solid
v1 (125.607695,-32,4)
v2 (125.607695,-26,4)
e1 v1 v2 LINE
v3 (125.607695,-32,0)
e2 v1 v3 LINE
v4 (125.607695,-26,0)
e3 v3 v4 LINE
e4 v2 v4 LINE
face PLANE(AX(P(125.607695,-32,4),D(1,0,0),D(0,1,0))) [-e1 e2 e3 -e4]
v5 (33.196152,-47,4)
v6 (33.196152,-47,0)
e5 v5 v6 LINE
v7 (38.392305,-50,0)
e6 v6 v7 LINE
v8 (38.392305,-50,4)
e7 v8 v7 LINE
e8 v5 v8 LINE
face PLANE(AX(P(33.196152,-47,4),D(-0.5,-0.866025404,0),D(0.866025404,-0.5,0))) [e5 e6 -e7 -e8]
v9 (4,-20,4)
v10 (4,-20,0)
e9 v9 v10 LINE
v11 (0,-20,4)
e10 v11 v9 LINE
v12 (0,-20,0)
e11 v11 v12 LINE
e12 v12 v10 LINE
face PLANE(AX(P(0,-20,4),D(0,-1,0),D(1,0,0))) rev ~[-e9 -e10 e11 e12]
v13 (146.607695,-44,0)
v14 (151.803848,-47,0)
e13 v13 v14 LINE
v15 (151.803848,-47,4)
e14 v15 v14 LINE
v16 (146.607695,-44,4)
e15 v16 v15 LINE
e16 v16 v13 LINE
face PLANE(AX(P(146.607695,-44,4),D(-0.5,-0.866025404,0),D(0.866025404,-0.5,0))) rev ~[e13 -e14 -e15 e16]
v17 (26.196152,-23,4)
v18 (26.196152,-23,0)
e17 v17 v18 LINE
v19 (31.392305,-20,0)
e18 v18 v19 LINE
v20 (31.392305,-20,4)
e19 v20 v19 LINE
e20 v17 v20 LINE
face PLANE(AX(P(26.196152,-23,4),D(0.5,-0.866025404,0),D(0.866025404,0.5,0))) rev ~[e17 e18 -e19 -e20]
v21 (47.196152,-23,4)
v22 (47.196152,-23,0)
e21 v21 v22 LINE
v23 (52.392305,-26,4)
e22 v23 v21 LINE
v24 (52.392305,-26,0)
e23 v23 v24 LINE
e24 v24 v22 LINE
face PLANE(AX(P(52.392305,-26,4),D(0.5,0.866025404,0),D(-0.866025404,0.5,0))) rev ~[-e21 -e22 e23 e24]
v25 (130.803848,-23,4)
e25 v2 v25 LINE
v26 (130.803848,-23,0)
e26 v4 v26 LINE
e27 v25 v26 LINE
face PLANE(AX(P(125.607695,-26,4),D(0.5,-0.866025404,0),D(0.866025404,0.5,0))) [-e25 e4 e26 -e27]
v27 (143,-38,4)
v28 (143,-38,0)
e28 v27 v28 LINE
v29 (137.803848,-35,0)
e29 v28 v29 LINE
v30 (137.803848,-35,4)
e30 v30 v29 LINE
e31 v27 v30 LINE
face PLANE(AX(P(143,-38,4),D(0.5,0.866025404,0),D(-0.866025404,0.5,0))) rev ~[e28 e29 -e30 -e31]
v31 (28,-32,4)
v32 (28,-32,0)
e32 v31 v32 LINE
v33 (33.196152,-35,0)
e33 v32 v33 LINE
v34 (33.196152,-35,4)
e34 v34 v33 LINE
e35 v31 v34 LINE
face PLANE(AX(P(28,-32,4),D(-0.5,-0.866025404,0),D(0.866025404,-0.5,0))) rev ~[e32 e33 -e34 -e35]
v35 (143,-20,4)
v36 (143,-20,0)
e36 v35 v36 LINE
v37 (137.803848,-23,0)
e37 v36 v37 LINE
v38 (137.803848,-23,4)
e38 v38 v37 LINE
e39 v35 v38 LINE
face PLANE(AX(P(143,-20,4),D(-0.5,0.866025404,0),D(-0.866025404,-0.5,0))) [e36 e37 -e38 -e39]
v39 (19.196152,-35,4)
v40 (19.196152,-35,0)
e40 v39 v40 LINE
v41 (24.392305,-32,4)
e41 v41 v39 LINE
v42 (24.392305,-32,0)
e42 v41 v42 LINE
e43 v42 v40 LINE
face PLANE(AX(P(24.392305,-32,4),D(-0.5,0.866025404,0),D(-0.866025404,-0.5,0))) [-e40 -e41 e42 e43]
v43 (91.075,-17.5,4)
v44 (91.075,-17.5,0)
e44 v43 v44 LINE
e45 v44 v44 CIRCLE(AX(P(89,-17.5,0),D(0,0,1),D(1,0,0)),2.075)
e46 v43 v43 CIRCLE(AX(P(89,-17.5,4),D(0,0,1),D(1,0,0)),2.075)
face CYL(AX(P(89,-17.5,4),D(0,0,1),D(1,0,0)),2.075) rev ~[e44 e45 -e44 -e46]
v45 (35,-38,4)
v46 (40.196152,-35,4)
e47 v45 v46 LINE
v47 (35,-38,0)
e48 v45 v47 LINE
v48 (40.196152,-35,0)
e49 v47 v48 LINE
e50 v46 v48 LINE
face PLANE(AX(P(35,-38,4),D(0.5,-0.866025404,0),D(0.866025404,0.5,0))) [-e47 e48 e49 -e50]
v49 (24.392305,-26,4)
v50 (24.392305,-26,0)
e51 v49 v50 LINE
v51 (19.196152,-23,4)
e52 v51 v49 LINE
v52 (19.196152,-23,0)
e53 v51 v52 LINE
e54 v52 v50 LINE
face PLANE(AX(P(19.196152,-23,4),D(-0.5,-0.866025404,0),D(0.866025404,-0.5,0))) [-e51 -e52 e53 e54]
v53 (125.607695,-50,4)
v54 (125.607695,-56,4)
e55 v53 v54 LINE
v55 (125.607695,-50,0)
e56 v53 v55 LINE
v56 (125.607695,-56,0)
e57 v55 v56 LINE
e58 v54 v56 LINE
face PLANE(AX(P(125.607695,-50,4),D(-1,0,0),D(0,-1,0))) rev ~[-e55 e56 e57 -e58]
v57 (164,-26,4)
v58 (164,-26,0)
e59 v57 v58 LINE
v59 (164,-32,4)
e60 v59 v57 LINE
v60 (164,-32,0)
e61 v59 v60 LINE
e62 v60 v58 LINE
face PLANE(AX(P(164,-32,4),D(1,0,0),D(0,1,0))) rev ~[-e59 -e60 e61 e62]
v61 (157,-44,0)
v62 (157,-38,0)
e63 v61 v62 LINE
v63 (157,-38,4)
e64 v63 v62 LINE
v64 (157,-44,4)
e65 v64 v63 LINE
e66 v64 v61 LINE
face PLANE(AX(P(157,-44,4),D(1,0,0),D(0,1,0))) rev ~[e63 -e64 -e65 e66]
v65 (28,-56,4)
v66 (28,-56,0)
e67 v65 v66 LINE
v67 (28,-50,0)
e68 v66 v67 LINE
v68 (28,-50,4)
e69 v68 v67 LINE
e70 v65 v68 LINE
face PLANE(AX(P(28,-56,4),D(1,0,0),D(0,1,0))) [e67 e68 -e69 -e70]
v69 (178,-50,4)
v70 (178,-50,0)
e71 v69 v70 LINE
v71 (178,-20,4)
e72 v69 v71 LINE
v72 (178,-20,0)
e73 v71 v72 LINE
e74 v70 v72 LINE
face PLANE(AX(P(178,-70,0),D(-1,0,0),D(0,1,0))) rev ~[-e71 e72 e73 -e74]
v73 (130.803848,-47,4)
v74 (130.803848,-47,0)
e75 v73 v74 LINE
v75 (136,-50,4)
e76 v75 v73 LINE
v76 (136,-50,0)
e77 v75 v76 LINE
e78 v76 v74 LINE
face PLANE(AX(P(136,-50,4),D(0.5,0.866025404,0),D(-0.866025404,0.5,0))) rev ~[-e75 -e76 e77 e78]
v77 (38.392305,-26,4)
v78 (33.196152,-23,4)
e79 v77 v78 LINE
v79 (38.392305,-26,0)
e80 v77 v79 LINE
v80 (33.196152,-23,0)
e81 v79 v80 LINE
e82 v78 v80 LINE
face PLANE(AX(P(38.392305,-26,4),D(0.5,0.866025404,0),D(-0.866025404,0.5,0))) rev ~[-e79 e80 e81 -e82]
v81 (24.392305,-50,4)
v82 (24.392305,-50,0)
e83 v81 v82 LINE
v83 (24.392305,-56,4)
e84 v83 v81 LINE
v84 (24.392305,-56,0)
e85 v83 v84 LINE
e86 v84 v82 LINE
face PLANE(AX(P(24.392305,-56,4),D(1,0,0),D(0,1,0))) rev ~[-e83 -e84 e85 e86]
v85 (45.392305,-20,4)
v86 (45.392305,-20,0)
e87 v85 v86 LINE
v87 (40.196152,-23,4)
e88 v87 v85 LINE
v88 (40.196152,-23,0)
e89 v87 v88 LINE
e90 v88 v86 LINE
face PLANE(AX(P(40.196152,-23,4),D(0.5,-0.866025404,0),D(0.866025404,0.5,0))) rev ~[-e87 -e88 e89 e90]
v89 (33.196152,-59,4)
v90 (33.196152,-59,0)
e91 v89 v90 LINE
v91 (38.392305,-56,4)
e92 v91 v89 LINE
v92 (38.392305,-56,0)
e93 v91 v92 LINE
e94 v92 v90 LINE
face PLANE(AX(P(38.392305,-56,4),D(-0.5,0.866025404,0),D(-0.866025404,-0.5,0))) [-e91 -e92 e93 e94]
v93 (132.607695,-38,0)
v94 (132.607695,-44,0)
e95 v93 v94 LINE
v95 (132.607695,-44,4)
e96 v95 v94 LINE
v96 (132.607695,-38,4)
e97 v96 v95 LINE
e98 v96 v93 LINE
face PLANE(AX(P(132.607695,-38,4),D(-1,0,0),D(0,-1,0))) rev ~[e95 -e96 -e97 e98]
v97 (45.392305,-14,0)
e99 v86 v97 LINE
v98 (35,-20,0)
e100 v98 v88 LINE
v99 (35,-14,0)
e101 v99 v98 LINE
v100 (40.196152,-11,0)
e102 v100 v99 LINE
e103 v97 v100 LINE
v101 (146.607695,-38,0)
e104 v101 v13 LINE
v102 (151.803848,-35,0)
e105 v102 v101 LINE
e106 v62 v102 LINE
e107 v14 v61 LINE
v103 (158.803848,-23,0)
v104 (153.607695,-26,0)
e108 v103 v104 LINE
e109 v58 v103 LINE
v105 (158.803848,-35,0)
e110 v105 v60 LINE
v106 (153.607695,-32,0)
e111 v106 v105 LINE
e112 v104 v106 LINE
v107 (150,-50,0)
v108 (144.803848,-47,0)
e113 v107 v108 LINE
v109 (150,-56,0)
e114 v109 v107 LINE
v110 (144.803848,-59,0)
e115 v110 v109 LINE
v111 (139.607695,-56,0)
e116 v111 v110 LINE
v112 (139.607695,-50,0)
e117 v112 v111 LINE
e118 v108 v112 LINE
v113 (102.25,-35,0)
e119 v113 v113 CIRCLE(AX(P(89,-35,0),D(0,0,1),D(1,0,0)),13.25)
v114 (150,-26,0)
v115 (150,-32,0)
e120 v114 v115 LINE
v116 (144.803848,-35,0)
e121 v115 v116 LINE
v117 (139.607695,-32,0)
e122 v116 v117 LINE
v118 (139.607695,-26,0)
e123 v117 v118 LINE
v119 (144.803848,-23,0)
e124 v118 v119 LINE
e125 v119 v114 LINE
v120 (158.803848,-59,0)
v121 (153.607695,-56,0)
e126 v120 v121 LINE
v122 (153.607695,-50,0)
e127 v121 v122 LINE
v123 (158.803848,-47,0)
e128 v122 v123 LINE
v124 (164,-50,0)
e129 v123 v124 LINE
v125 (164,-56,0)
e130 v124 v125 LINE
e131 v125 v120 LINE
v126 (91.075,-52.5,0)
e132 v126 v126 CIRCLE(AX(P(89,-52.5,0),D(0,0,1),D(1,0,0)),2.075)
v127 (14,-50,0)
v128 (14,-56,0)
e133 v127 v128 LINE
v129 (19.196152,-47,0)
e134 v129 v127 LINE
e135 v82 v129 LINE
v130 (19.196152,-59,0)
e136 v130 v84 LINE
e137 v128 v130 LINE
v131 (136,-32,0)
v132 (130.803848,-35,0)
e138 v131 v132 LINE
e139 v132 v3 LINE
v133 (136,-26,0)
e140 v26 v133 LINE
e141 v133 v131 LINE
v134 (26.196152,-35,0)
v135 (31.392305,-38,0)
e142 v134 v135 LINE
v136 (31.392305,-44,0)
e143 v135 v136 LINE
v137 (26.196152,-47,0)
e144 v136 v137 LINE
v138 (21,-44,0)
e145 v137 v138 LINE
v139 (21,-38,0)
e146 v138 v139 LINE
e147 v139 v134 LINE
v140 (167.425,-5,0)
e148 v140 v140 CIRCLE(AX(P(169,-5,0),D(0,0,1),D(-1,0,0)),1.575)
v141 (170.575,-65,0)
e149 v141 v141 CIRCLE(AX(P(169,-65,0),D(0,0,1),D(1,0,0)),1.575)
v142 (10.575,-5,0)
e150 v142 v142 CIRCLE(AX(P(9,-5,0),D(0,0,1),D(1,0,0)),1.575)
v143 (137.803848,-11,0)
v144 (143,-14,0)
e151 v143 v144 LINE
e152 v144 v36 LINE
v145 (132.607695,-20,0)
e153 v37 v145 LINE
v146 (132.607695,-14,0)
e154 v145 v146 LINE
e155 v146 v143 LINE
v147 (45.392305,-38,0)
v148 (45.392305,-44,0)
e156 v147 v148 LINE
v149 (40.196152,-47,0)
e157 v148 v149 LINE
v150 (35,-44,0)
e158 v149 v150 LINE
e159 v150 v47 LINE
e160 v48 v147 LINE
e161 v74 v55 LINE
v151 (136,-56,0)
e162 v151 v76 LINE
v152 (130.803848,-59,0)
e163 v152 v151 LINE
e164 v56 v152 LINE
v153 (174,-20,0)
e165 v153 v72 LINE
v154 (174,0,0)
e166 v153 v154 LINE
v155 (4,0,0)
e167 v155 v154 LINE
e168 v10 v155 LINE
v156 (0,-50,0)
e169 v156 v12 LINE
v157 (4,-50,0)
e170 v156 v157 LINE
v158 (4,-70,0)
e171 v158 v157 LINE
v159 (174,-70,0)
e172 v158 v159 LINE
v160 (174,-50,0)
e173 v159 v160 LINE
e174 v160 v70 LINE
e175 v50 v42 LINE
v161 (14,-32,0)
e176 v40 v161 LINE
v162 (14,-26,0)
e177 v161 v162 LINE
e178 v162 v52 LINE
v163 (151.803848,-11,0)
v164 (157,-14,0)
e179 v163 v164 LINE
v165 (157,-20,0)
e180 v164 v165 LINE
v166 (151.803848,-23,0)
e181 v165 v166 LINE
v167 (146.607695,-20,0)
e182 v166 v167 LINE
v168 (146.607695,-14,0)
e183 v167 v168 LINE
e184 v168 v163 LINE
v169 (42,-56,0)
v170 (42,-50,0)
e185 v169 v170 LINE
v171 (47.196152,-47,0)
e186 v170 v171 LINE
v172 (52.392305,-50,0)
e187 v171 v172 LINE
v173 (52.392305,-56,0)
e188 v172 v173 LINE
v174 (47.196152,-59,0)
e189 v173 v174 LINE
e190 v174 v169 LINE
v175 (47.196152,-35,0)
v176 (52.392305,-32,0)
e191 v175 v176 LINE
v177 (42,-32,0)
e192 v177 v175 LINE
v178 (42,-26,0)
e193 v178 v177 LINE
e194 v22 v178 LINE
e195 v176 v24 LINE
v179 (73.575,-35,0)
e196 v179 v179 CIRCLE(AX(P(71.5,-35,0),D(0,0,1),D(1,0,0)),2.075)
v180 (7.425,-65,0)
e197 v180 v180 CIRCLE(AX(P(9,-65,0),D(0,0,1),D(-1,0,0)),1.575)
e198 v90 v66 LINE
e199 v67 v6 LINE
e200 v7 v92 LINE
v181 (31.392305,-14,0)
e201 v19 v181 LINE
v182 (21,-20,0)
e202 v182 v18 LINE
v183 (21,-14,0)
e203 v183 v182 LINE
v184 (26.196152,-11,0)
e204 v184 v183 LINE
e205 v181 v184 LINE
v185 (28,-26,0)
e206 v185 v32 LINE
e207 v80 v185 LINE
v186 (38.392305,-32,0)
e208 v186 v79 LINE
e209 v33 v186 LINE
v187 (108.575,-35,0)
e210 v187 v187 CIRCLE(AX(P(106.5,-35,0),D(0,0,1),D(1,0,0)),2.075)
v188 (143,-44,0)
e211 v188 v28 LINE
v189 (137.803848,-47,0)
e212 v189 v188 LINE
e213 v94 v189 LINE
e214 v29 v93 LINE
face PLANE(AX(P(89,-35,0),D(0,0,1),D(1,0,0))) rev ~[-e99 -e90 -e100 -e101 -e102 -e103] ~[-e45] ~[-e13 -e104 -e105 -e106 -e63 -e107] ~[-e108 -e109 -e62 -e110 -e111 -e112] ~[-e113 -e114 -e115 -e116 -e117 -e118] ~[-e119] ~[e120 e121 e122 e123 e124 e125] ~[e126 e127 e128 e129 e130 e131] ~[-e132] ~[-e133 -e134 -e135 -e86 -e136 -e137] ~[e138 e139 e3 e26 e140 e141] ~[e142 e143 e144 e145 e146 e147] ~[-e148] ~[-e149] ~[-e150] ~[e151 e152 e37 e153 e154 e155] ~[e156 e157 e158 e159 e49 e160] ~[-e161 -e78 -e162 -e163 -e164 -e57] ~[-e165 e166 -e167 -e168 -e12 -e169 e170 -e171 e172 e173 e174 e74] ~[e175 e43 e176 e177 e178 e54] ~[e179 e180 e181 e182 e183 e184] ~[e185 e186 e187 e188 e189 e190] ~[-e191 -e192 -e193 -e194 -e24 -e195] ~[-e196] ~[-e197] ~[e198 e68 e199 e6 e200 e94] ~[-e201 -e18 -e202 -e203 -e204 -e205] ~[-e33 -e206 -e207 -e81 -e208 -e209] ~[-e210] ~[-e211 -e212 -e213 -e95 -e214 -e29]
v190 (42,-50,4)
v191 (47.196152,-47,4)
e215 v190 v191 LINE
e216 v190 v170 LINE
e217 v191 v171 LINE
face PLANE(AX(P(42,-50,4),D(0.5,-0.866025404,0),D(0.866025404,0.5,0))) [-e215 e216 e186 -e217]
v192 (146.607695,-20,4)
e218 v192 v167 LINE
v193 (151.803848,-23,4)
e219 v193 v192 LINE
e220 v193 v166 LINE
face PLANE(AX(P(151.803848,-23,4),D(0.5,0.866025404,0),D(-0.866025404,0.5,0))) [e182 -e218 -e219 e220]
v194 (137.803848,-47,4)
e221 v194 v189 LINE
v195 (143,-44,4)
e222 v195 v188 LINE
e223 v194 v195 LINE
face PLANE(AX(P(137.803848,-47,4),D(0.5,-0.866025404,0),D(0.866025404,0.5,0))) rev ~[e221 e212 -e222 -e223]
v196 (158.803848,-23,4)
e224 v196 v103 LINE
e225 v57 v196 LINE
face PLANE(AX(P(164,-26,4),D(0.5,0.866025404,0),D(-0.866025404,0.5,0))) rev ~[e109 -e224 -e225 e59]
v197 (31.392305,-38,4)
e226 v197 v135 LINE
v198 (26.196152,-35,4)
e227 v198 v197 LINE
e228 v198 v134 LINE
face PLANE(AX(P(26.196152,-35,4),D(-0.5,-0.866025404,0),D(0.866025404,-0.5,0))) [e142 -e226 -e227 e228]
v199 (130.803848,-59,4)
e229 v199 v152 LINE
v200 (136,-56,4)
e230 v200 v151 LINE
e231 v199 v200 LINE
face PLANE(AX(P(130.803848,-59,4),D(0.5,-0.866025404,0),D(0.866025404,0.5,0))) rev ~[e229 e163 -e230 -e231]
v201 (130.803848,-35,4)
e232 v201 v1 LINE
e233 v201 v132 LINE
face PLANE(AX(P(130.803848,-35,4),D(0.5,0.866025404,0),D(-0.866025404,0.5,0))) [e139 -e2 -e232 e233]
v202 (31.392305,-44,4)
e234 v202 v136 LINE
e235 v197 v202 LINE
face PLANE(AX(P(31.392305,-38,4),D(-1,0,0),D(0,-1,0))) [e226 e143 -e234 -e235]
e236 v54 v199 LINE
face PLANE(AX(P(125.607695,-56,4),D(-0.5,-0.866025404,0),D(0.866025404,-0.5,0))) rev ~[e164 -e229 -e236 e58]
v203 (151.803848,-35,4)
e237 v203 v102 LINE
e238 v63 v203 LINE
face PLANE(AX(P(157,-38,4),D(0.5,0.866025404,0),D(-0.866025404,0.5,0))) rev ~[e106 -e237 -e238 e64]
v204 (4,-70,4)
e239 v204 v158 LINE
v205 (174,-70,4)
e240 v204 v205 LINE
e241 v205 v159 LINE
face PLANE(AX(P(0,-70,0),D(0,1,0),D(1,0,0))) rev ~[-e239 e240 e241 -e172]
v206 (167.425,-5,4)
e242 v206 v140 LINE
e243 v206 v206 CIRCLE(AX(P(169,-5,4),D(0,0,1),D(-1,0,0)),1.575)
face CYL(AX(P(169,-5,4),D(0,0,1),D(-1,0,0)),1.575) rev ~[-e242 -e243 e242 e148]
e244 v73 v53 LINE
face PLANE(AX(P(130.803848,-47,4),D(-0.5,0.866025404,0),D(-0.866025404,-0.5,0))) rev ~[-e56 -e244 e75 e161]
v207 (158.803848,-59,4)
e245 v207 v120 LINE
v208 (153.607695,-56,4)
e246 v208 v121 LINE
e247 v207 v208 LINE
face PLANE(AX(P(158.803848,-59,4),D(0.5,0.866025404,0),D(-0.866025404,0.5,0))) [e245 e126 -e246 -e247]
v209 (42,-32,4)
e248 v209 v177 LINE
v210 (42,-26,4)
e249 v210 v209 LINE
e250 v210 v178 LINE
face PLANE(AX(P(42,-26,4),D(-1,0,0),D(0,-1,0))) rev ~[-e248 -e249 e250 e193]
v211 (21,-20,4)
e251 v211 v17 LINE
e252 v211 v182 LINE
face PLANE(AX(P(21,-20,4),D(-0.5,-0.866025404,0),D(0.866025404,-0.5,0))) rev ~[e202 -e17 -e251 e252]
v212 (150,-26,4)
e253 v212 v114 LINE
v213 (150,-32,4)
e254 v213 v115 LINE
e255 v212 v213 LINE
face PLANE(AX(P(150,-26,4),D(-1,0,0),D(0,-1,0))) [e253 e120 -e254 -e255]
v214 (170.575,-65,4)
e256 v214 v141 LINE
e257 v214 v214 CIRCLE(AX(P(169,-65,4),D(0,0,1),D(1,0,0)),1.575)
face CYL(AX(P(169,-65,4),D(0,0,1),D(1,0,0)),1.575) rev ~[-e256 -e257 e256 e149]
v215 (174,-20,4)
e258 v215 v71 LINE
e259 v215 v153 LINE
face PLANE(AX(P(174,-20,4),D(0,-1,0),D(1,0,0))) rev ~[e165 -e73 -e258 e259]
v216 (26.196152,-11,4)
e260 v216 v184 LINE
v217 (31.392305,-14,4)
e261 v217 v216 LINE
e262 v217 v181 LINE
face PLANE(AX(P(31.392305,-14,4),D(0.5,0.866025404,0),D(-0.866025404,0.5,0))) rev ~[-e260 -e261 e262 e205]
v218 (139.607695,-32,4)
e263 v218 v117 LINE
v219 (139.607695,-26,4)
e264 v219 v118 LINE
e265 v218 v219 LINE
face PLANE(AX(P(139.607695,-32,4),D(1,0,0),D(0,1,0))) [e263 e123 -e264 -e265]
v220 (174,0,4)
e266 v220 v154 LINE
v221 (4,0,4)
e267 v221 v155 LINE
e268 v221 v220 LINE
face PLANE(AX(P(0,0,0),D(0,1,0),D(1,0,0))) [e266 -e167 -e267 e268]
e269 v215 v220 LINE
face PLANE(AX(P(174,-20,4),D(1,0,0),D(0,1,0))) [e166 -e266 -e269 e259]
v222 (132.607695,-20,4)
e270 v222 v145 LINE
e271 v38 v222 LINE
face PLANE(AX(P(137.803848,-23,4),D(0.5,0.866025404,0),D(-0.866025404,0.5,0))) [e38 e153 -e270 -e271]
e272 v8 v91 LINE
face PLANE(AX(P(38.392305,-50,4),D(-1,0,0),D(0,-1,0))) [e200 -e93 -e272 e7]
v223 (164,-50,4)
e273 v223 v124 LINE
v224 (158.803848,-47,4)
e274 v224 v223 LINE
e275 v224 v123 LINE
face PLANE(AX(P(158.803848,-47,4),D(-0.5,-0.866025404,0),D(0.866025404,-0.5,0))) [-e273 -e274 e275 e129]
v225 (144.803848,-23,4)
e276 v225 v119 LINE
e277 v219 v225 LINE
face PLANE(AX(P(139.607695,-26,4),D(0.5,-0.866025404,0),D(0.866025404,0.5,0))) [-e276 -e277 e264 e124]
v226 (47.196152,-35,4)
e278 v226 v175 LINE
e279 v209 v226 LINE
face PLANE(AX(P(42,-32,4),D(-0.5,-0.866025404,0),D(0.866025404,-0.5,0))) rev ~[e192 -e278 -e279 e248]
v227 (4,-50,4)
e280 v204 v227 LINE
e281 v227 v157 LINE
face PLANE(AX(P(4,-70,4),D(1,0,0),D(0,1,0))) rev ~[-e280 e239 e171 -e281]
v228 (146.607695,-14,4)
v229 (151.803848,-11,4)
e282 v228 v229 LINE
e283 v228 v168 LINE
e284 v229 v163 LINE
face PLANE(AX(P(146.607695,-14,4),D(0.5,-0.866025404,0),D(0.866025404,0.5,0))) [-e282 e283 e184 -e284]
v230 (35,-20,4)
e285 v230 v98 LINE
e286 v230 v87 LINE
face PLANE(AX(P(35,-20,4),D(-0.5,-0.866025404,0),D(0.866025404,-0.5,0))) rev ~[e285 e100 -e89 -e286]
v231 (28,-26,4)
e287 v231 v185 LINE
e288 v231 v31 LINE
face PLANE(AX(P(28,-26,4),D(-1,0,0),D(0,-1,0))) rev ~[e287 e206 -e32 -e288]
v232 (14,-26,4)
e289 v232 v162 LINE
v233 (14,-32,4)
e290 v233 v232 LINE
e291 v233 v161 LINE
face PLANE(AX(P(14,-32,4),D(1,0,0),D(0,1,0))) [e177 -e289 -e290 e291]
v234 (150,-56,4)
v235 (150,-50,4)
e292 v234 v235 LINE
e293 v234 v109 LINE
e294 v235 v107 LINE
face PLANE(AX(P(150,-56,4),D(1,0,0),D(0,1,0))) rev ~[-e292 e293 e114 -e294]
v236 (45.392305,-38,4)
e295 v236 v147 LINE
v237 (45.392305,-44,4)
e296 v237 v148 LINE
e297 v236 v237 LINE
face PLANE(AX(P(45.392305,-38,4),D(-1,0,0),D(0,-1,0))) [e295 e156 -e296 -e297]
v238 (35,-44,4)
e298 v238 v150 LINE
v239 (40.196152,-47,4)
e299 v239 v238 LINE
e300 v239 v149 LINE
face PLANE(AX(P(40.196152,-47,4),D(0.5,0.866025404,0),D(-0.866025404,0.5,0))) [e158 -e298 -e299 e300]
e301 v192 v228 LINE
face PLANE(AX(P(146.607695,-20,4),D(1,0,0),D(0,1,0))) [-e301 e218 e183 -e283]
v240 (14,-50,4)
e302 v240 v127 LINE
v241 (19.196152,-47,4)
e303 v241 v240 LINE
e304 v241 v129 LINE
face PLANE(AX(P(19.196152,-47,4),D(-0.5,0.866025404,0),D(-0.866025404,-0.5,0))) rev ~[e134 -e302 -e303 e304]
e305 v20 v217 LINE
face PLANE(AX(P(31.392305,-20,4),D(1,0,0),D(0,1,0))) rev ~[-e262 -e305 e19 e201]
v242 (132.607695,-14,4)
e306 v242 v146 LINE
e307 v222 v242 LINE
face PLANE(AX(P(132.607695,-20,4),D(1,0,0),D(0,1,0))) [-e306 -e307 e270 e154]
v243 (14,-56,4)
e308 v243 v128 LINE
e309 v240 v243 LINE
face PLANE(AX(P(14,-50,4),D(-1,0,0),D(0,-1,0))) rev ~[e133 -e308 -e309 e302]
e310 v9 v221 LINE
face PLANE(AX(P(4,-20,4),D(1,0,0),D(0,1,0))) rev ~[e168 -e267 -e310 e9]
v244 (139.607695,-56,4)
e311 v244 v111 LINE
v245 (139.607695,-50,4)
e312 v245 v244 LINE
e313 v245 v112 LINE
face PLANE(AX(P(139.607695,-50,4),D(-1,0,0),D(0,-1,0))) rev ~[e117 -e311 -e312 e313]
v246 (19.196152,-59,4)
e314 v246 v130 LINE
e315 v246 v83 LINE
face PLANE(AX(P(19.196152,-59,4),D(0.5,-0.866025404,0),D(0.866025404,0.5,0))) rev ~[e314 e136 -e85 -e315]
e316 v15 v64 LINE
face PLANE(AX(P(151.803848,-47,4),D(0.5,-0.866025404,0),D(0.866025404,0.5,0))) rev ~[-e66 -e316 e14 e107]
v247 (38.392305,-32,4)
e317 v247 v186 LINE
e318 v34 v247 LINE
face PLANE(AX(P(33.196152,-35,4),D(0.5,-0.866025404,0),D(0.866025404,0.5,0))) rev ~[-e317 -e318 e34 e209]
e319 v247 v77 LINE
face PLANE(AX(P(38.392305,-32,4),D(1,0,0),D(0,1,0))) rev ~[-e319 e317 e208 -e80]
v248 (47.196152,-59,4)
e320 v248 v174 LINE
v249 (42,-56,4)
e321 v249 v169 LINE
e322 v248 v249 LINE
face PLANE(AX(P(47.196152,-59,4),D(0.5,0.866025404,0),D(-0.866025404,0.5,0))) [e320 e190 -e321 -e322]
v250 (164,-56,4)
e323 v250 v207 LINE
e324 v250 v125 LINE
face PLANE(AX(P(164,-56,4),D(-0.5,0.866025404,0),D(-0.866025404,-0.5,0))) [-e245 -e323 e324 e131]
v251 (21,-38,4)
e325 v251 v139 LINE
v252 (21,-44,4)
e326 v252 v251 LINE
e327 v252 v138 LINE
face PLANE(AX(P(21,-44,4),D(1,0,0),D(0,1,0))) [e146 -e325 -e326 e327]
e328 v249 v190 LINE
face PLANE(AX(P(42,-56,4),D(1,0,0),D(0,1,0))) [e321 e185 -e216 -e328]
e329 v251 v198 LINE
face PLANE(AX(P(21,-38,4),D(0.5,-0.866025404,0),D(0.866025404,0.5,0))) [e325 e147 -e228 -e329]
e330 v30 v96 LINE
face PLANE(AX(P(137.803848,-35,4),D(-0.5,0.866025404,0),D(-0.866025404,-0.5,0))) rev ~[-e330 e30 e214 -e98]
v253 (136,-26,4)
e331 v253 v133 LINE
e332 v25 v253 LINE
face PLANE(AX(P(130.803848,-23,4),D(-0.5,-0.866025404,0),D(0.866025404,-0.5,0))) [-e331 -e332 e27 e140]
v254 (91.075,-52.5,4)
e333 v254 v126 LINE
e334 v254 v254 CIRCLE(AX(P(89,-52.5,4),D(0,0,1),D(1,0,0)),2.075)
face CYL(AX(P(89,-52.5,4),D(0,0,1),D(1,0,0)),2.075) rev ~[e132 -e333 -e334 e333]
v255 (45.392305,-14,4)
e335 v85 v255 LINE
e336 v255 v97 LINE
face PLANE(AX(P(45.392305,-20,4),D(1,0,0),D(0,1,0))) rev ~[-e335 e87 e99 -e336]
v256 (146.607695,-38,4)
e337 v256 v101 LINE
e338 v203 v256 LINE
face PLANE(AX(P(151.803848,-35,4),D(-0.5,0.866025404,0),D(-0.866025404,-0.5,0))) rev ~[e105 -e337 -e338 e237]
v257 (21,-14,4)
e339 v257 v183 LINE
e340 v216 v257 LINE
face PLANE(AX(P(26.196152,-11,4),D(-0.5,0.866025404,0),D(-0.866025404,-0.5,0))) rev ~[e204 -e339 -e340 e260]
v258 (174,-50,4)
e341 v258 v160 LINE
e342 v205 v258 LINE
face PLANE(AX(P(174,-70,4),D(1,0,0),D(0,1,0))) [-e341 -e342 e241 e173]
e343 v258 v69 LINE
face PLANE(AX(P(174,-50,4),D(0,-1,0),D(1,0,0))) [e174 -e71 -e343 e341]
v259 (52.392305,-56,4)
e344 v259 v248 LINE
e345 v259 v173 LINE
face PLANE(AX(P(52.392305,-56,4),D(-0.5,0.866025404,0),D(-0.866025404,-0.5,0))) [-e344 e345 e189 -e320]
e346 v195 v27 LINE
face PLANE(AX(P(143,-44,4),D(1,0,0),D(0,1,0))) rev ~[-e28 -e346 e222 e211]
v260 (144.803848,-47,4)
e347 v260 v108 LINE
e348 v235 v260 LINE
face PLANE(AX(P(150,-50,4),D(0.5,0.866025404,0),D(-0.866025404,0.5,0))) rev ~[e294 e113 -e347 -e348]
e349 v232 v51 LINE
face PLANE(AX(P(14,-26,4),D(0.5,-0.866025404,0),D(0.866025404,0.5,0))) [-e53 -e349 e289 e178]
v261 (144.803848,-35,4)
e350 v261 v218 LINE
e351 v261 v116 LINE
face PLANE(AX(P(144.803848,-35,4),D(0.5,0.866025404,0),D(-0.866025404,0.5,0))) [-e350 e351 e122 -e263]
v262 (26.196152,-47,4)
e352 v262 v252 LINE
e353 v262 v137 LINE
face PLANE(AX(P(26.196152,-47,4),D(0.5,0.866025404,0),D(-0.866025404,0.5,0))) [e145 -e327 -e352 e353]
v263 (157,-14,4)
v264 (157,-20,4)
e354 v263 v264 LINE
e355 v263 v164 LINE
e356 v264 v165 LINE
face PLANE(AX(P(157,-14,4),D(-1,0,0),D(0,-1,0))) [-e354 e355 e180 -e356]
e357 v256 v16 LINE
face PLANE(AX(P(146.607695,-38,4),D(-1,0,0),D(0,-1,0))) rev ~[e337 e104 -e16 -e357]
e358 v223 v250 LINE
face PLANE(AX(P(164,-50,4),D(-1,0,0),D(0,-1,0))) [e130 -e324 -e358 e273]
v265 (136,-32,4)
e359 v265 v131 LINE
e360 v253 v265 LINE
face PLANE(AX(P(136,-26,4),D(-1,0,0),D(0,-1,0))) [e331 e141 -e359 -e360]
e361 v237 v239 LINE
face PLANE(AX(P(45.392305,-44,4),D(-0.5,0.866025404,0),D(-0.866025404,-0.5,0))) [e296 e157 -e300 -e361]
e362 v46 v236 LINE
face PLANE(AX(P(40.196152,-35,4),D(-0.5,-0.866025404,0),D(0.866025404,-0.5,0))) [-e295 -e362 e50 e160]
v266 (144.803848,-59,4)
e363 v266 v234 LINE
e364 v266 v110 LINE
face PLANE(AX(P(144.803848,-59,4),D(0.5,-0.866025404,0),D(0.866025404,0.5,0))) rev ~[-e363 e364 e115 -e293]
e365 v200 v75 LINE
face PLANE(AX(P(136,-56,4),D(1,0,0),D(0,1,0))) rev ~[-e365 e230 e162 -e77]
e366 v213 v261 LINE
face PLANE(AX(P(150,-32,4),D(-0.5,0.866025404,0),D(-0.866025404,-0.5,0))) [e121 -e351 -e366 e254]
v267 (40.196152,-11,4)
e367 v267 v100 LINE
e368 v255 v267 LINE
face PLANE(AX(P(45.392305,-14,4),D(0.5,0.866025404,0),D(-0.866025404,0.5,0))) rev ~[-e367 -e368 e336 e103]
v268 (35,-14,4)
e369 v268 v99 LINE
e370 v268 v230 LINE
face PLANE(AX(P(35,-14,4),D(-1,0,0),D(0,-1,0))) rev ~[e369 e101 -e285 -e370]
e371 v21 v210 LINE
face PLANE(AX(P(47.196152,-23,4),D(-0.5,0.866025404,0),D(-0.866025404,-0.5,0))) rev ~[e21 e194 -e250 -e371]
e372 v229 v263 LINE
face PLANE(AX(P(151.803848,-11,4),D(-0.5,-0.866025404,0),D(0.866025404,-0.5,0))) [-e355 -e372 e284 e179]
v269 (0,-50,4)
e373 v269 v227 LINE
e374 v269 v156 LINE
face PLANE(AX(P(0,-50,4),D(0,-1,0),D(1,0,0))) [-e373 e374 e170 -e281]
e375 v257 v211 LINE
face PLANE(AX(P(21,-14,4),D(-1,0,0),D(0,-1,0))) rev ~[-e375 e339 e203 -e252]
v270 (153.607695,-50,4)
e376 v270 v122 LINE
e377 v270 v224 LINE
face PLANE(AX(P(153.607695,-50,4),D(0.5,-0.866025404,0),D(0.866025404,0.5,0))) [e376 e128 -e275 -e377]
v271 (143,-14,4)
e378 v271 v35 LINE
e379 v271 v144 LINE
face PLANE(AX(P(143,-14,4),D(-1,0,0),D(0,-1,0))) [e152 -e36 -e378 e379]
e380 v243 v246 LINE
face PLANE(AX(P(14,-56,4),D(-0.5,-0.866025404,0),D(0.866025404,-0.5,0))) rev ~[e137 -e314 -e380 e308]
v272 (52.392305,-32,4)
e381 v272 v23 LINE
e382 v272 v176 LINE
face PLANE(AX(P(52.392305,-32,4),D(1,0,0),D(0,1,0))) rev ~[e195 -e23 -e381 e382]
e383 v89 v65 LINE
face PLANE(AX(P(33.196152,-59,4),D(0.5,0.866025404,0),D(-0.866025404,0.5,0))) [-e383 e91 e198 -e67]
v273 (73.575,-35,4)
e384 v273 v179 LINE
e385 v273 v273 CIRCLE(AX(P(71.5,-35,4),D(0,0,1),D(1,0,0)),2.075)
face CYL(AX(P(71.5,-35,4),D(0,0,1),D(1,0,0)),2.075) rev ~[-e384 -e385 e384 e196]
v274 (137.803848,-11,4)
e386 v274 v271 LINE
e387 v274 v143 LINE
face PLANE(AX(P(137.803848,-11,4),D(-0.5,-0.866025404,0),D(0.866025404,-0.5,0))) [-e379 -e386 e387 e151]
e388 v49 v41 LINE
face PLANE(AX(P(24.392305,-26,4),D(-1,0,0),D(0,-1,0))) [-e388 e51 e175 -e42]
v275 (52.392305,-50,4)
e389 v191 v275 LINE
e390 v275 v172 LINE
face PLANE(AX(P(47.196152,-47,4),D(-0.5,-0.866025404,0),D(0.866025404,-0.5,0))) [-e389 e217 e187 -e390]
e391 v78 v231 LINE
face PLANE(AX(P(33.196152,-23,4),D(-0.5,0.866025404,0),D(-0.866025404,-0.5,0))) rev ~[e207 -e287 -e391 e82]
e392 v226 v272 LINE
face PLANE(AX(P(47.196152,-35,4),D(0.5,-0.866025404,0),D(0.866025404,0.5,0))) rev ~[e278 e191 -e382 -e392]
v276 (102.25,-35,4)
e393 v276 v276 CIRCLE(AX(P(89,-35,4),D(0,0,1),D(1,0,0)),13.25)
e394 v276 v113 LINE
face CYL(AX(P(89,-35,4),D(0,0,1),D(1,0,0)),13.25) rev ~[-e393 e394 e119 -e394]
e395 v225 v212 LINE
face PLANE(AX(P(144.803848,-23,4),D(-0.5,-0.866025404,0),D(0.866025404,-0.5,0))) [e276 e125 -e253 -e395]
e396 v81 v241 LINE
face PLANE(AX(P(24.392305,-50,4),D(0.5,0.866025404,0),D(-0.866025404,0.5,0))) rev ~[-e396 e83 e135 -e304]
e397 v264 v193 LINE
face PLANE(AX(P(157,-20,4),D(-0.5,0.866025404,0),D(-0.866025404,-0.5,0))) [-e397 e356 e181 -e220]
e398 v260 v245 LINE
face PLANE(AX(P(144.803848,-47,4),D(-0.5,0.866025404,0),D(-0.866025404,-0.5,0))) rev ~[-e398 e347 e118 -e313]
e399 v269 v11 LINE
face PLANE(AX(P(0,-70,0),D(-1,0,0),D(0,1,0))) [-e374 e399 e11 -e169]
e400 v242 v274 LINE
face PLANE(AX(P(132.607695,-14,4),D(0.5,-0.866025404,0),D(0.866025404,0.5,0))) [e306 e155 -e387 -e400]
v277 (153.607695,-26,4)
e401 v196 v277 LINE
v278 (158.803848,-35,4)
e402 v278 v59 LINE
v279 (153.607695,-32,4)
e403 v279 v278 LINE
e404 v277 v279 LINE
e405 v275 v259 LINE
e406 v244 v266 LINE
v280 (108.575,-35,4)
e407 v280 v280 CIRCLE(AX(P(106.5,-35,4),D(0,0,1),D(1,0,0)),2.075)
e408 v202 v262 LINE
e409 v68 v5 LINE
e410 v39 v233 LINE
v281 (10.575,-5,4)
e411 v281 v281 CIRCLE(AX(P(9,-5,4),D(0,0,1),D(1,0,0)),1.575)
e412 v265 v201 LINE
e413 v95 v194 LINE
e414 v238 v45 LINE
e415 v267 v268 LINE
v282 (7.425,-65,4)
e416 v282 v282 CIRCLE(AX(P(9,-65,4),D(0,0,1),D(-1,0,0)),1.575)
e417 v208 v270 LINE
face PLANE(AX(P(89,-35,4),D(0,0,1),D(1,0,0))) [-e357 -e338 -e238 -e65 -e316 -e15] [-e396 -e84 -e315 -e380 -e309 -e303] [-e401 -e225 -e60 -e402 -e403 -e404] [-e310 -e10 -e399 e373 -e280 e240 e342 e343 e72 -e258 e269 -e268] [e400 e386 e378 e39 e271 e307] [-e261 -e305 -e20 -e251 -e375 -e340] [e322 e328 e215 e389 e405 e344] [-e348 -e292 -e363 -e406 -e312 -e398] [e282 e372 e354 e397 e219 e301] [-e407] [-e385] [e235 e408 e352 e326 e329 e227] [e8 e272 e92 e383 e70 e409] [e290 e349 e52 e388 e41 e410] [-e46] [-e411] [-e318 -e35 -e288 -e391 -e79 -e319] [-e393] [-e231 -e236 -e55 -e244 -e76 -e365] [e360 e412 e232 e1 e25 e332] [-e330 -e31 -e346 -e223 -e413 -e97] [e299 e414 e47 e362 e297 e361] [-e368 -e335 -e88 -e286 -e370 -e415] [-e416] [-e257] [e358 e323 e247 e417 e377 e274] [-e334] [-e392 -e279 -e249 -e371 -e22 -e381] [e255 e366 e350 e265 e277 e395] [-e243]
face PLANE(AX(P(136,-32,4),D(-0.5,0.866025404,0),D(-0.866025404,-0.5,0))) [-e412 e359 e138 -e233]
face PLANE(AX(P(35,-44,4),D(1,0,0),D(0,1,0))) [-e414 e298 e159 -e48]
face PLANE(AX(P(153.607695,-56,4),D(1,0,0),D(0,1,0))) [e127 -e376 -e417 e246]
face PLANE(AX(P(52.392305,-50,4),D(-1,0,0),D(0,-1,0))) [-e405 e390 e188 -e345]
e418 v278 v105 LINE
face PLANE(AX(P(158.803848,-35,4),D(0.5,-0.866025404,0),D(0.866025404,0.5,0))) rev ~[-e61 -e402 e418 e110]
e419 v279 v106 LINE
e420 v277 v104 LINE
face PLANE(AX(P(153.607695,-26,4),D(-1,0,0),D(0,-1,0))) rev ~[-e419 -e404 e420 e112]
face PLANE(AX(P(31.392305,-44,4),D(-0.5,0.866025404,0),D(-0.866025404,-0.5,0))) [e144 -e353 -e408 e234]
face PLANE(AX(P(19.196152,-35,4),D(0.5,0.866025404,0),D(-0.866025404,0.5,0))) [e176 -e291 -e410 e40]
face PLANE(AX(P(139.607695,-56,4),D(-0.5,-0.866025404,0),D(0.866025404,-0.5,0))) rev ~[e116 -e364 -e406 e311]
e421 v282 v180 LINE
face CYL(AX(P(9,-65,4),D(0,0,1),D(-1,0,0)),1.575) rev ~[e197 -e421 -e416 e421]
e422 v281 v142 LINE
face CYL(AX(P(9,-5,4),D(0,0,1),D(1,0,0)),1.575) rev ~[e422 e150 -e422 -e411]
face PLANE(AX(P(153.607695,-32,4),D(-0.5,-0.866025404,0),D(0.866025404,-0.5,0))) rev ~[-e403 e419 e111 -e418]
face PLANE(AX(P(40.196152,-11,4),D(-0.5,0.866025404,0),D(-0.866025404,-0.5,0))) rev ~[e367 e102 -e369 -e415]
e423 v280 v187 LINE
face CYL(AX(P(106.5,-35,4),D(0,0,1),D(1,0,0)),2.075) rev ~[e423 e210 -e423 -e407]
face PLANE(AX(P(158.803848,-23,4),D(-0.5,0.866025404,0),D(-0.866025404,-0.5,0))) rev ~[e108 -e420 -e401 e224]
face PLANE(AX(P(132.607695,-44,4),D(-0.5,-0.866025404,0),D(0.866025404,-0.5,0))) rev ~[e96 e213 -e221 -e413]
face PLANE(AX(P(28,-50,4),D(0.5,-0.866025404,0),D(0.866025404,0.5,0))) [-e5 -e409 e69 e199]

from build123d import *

# Parameters (mm, degrees)
SKETCH_1_W          = 178
SKETCH_1_H          = 70
EXTRUDE_1_DEPTH     = 4
SKETCH_2_R          = 13.25
SKETCH_2_R_2        = 2.075
SKETCH_2_R_3        = 1.575
SKETCH_2_W          = 4
SKETCH_2_H          = 20
CUT_EXTRUDE_1_DEPTH = 192.311264697


with BuildPart() as part:
    # 草图1 → 凸台-拉伸1 (new body)
    with BuildSketch(Plane.XY):
        with Locations((89, -35)):
            Rectangle(SKETCH_1_W, SKETCH_1_H)
    extrude(amount=EXTRUDE_1_DEPTH)

    # 草图2 → 切除-拉伸1 (cut, through all)
    with BuildSketch(Plane.XY.offset(4)):
        with Locations((89, -35)):
            Circle(SKETCH_2_R)
        with Locations((89, -17.5)):
            Circle(SKETCH_2_R_2)
        with Locations((106.5, -35)):
            Circle(SKETCH_2_R_2)
        with Locations((89, -52.5)):
            Circle(SKETCH_2_R_2)
        with Locations((71.5, -35)):
            Circle(SKETCH_2_R_2)
        with Locations((9, -5)):
            Circle(SKETCH_2_R_3)
        with Locations(Location((9, -65, 0), (0, 0, 180))):
            Circle(SKETCH_2_R_3)
        with Locations((169, -65)):
            Circle(SKETCH_2_R_3)
        with Locations(Location((169, -5, 0), (0, 0, 180))):
            Circle(SKETCH_2_R_3)
        Polygon((40.196152423, -11), (35, -14), (35, -20), (40.196152423, -23), (45.392304845, -20), (45.392304845, -14), align=None)
        with Locations((2, -10)):
            Rectangle(SKETCH_2_W, SKETCH_2_H)
        with Locations((176, -10)):
            Rectangle(SKETCH_2_W, SKETCH_2_H)
        with Locations((176, -60)):
            Rectangle(SKETCH_2_W, SKETCH_2_H)
        with Locations((2, -60)):
            Rectangle(SKETCH_2_W, SKETCH_2_H)
        Polygon((26.196152423, -23), (31.392304845, -20), (31.392304845, -14), (26.196152423, -11), (21, -14), (21, -20), align=None)
        Polygon((33.196152423, -35), (38.392304845, -32), (38.392304845, -26), (33.196152423, -23), (28, -26), (28, -32), align=None)
        Polygon((47.196152423, -23), (42, -26), (42, -32), (47.196152423, -35), (52.392304845, -32), (52.392304845, -26), align=None)
        Polygon((14, -26), (19.196152423, -23), (24.392304845, -26), (24.392304845, -32), (19.196152423, -35), (14, -32), align=None)
        Polygon((35, -44), (35, -38), (40.196152423, -35), (45.392304845, -38), (45.392304845, -44), (40.196152423, -47), align=None)
        Polygon((21, -38), (26.196152423, -35), (31.392304845, -38), (31.392304845, -44), (26.196152423, -47), (21, -44), align=None)
        Polygon((14, -50), (14, -56), (19.196152423, -59), (24.392304845, -56), (24.392304845, -50), (19.196152423, -47), align=None)
        Polygon((42, -56), (42, -50), (47.196152423, -47), (52.392304845, -50), (52.392304845, -56), (47.196152423, -59), align=None)
        Polygon((28, -50), (33.196152423, -47), (38.392304845, -50), (38.392304845, -56), (33.196152423, -59), (28, -56), align=None)
        Polygon((144.803847577, -47), (139.607695155, -50), (139.607695155, -56), (144.803847577, -59), (150, -56), (150, -50), align=None)
        Polygon((130.803847577, -59), (136, -56), (136, -50), (130.803847577, -47), (125.607695155, -50), (125.607695155, -56), align=None)
        Polygon((164, -56), (158.803847577, -59), (153.607695155, -56), (153.607695155, -50), (158.803847577, -47), (164, -50), align=None)
        Polygon((137.803847577, -47), (143, -44), (143, -38), (137.803847577, -35), (132.607695155, -38), (132.607695155, -44), align=None)
        Polygon((151.803847577, -35), (146.607695155, -38), (146.607695155, -44), (151.803847577, -47), (157, -44), (157, -38), align=None)
        Polygon((164, -32), (164, -26), (158.803847577, -23), (153.607695155, -26), (153.607695155, -32), (158.803847577, -35), align=None)
        Polygon((136, -26), (136, -32), (130.803847577, -35), (125.607695155, -32), (125.607695155, -26), (130.803847577, -23), align=None)
        Polygon((150, -32), (144.803847577, -35), (139.607695155, -32), (139.607695155, -26), (144.803847577, -23), (150, -26), align=None)
        Polygon((143, -14), (143, -20), (137.803847577, -23), (132.607695155, -20), (132.607695155, -14), (137.803847577, -11), align=None)
        Polygon((157, -20), (151.803847577, -23), (146.607695155, -20), (146.607695155, -14), (151.803847577, -11), (157, -14), align=None)
    extrude(amount=-CUT_EXTRUDE_1_DEPTH, mode=Mode.SUBTRACT)


solid = part.part
